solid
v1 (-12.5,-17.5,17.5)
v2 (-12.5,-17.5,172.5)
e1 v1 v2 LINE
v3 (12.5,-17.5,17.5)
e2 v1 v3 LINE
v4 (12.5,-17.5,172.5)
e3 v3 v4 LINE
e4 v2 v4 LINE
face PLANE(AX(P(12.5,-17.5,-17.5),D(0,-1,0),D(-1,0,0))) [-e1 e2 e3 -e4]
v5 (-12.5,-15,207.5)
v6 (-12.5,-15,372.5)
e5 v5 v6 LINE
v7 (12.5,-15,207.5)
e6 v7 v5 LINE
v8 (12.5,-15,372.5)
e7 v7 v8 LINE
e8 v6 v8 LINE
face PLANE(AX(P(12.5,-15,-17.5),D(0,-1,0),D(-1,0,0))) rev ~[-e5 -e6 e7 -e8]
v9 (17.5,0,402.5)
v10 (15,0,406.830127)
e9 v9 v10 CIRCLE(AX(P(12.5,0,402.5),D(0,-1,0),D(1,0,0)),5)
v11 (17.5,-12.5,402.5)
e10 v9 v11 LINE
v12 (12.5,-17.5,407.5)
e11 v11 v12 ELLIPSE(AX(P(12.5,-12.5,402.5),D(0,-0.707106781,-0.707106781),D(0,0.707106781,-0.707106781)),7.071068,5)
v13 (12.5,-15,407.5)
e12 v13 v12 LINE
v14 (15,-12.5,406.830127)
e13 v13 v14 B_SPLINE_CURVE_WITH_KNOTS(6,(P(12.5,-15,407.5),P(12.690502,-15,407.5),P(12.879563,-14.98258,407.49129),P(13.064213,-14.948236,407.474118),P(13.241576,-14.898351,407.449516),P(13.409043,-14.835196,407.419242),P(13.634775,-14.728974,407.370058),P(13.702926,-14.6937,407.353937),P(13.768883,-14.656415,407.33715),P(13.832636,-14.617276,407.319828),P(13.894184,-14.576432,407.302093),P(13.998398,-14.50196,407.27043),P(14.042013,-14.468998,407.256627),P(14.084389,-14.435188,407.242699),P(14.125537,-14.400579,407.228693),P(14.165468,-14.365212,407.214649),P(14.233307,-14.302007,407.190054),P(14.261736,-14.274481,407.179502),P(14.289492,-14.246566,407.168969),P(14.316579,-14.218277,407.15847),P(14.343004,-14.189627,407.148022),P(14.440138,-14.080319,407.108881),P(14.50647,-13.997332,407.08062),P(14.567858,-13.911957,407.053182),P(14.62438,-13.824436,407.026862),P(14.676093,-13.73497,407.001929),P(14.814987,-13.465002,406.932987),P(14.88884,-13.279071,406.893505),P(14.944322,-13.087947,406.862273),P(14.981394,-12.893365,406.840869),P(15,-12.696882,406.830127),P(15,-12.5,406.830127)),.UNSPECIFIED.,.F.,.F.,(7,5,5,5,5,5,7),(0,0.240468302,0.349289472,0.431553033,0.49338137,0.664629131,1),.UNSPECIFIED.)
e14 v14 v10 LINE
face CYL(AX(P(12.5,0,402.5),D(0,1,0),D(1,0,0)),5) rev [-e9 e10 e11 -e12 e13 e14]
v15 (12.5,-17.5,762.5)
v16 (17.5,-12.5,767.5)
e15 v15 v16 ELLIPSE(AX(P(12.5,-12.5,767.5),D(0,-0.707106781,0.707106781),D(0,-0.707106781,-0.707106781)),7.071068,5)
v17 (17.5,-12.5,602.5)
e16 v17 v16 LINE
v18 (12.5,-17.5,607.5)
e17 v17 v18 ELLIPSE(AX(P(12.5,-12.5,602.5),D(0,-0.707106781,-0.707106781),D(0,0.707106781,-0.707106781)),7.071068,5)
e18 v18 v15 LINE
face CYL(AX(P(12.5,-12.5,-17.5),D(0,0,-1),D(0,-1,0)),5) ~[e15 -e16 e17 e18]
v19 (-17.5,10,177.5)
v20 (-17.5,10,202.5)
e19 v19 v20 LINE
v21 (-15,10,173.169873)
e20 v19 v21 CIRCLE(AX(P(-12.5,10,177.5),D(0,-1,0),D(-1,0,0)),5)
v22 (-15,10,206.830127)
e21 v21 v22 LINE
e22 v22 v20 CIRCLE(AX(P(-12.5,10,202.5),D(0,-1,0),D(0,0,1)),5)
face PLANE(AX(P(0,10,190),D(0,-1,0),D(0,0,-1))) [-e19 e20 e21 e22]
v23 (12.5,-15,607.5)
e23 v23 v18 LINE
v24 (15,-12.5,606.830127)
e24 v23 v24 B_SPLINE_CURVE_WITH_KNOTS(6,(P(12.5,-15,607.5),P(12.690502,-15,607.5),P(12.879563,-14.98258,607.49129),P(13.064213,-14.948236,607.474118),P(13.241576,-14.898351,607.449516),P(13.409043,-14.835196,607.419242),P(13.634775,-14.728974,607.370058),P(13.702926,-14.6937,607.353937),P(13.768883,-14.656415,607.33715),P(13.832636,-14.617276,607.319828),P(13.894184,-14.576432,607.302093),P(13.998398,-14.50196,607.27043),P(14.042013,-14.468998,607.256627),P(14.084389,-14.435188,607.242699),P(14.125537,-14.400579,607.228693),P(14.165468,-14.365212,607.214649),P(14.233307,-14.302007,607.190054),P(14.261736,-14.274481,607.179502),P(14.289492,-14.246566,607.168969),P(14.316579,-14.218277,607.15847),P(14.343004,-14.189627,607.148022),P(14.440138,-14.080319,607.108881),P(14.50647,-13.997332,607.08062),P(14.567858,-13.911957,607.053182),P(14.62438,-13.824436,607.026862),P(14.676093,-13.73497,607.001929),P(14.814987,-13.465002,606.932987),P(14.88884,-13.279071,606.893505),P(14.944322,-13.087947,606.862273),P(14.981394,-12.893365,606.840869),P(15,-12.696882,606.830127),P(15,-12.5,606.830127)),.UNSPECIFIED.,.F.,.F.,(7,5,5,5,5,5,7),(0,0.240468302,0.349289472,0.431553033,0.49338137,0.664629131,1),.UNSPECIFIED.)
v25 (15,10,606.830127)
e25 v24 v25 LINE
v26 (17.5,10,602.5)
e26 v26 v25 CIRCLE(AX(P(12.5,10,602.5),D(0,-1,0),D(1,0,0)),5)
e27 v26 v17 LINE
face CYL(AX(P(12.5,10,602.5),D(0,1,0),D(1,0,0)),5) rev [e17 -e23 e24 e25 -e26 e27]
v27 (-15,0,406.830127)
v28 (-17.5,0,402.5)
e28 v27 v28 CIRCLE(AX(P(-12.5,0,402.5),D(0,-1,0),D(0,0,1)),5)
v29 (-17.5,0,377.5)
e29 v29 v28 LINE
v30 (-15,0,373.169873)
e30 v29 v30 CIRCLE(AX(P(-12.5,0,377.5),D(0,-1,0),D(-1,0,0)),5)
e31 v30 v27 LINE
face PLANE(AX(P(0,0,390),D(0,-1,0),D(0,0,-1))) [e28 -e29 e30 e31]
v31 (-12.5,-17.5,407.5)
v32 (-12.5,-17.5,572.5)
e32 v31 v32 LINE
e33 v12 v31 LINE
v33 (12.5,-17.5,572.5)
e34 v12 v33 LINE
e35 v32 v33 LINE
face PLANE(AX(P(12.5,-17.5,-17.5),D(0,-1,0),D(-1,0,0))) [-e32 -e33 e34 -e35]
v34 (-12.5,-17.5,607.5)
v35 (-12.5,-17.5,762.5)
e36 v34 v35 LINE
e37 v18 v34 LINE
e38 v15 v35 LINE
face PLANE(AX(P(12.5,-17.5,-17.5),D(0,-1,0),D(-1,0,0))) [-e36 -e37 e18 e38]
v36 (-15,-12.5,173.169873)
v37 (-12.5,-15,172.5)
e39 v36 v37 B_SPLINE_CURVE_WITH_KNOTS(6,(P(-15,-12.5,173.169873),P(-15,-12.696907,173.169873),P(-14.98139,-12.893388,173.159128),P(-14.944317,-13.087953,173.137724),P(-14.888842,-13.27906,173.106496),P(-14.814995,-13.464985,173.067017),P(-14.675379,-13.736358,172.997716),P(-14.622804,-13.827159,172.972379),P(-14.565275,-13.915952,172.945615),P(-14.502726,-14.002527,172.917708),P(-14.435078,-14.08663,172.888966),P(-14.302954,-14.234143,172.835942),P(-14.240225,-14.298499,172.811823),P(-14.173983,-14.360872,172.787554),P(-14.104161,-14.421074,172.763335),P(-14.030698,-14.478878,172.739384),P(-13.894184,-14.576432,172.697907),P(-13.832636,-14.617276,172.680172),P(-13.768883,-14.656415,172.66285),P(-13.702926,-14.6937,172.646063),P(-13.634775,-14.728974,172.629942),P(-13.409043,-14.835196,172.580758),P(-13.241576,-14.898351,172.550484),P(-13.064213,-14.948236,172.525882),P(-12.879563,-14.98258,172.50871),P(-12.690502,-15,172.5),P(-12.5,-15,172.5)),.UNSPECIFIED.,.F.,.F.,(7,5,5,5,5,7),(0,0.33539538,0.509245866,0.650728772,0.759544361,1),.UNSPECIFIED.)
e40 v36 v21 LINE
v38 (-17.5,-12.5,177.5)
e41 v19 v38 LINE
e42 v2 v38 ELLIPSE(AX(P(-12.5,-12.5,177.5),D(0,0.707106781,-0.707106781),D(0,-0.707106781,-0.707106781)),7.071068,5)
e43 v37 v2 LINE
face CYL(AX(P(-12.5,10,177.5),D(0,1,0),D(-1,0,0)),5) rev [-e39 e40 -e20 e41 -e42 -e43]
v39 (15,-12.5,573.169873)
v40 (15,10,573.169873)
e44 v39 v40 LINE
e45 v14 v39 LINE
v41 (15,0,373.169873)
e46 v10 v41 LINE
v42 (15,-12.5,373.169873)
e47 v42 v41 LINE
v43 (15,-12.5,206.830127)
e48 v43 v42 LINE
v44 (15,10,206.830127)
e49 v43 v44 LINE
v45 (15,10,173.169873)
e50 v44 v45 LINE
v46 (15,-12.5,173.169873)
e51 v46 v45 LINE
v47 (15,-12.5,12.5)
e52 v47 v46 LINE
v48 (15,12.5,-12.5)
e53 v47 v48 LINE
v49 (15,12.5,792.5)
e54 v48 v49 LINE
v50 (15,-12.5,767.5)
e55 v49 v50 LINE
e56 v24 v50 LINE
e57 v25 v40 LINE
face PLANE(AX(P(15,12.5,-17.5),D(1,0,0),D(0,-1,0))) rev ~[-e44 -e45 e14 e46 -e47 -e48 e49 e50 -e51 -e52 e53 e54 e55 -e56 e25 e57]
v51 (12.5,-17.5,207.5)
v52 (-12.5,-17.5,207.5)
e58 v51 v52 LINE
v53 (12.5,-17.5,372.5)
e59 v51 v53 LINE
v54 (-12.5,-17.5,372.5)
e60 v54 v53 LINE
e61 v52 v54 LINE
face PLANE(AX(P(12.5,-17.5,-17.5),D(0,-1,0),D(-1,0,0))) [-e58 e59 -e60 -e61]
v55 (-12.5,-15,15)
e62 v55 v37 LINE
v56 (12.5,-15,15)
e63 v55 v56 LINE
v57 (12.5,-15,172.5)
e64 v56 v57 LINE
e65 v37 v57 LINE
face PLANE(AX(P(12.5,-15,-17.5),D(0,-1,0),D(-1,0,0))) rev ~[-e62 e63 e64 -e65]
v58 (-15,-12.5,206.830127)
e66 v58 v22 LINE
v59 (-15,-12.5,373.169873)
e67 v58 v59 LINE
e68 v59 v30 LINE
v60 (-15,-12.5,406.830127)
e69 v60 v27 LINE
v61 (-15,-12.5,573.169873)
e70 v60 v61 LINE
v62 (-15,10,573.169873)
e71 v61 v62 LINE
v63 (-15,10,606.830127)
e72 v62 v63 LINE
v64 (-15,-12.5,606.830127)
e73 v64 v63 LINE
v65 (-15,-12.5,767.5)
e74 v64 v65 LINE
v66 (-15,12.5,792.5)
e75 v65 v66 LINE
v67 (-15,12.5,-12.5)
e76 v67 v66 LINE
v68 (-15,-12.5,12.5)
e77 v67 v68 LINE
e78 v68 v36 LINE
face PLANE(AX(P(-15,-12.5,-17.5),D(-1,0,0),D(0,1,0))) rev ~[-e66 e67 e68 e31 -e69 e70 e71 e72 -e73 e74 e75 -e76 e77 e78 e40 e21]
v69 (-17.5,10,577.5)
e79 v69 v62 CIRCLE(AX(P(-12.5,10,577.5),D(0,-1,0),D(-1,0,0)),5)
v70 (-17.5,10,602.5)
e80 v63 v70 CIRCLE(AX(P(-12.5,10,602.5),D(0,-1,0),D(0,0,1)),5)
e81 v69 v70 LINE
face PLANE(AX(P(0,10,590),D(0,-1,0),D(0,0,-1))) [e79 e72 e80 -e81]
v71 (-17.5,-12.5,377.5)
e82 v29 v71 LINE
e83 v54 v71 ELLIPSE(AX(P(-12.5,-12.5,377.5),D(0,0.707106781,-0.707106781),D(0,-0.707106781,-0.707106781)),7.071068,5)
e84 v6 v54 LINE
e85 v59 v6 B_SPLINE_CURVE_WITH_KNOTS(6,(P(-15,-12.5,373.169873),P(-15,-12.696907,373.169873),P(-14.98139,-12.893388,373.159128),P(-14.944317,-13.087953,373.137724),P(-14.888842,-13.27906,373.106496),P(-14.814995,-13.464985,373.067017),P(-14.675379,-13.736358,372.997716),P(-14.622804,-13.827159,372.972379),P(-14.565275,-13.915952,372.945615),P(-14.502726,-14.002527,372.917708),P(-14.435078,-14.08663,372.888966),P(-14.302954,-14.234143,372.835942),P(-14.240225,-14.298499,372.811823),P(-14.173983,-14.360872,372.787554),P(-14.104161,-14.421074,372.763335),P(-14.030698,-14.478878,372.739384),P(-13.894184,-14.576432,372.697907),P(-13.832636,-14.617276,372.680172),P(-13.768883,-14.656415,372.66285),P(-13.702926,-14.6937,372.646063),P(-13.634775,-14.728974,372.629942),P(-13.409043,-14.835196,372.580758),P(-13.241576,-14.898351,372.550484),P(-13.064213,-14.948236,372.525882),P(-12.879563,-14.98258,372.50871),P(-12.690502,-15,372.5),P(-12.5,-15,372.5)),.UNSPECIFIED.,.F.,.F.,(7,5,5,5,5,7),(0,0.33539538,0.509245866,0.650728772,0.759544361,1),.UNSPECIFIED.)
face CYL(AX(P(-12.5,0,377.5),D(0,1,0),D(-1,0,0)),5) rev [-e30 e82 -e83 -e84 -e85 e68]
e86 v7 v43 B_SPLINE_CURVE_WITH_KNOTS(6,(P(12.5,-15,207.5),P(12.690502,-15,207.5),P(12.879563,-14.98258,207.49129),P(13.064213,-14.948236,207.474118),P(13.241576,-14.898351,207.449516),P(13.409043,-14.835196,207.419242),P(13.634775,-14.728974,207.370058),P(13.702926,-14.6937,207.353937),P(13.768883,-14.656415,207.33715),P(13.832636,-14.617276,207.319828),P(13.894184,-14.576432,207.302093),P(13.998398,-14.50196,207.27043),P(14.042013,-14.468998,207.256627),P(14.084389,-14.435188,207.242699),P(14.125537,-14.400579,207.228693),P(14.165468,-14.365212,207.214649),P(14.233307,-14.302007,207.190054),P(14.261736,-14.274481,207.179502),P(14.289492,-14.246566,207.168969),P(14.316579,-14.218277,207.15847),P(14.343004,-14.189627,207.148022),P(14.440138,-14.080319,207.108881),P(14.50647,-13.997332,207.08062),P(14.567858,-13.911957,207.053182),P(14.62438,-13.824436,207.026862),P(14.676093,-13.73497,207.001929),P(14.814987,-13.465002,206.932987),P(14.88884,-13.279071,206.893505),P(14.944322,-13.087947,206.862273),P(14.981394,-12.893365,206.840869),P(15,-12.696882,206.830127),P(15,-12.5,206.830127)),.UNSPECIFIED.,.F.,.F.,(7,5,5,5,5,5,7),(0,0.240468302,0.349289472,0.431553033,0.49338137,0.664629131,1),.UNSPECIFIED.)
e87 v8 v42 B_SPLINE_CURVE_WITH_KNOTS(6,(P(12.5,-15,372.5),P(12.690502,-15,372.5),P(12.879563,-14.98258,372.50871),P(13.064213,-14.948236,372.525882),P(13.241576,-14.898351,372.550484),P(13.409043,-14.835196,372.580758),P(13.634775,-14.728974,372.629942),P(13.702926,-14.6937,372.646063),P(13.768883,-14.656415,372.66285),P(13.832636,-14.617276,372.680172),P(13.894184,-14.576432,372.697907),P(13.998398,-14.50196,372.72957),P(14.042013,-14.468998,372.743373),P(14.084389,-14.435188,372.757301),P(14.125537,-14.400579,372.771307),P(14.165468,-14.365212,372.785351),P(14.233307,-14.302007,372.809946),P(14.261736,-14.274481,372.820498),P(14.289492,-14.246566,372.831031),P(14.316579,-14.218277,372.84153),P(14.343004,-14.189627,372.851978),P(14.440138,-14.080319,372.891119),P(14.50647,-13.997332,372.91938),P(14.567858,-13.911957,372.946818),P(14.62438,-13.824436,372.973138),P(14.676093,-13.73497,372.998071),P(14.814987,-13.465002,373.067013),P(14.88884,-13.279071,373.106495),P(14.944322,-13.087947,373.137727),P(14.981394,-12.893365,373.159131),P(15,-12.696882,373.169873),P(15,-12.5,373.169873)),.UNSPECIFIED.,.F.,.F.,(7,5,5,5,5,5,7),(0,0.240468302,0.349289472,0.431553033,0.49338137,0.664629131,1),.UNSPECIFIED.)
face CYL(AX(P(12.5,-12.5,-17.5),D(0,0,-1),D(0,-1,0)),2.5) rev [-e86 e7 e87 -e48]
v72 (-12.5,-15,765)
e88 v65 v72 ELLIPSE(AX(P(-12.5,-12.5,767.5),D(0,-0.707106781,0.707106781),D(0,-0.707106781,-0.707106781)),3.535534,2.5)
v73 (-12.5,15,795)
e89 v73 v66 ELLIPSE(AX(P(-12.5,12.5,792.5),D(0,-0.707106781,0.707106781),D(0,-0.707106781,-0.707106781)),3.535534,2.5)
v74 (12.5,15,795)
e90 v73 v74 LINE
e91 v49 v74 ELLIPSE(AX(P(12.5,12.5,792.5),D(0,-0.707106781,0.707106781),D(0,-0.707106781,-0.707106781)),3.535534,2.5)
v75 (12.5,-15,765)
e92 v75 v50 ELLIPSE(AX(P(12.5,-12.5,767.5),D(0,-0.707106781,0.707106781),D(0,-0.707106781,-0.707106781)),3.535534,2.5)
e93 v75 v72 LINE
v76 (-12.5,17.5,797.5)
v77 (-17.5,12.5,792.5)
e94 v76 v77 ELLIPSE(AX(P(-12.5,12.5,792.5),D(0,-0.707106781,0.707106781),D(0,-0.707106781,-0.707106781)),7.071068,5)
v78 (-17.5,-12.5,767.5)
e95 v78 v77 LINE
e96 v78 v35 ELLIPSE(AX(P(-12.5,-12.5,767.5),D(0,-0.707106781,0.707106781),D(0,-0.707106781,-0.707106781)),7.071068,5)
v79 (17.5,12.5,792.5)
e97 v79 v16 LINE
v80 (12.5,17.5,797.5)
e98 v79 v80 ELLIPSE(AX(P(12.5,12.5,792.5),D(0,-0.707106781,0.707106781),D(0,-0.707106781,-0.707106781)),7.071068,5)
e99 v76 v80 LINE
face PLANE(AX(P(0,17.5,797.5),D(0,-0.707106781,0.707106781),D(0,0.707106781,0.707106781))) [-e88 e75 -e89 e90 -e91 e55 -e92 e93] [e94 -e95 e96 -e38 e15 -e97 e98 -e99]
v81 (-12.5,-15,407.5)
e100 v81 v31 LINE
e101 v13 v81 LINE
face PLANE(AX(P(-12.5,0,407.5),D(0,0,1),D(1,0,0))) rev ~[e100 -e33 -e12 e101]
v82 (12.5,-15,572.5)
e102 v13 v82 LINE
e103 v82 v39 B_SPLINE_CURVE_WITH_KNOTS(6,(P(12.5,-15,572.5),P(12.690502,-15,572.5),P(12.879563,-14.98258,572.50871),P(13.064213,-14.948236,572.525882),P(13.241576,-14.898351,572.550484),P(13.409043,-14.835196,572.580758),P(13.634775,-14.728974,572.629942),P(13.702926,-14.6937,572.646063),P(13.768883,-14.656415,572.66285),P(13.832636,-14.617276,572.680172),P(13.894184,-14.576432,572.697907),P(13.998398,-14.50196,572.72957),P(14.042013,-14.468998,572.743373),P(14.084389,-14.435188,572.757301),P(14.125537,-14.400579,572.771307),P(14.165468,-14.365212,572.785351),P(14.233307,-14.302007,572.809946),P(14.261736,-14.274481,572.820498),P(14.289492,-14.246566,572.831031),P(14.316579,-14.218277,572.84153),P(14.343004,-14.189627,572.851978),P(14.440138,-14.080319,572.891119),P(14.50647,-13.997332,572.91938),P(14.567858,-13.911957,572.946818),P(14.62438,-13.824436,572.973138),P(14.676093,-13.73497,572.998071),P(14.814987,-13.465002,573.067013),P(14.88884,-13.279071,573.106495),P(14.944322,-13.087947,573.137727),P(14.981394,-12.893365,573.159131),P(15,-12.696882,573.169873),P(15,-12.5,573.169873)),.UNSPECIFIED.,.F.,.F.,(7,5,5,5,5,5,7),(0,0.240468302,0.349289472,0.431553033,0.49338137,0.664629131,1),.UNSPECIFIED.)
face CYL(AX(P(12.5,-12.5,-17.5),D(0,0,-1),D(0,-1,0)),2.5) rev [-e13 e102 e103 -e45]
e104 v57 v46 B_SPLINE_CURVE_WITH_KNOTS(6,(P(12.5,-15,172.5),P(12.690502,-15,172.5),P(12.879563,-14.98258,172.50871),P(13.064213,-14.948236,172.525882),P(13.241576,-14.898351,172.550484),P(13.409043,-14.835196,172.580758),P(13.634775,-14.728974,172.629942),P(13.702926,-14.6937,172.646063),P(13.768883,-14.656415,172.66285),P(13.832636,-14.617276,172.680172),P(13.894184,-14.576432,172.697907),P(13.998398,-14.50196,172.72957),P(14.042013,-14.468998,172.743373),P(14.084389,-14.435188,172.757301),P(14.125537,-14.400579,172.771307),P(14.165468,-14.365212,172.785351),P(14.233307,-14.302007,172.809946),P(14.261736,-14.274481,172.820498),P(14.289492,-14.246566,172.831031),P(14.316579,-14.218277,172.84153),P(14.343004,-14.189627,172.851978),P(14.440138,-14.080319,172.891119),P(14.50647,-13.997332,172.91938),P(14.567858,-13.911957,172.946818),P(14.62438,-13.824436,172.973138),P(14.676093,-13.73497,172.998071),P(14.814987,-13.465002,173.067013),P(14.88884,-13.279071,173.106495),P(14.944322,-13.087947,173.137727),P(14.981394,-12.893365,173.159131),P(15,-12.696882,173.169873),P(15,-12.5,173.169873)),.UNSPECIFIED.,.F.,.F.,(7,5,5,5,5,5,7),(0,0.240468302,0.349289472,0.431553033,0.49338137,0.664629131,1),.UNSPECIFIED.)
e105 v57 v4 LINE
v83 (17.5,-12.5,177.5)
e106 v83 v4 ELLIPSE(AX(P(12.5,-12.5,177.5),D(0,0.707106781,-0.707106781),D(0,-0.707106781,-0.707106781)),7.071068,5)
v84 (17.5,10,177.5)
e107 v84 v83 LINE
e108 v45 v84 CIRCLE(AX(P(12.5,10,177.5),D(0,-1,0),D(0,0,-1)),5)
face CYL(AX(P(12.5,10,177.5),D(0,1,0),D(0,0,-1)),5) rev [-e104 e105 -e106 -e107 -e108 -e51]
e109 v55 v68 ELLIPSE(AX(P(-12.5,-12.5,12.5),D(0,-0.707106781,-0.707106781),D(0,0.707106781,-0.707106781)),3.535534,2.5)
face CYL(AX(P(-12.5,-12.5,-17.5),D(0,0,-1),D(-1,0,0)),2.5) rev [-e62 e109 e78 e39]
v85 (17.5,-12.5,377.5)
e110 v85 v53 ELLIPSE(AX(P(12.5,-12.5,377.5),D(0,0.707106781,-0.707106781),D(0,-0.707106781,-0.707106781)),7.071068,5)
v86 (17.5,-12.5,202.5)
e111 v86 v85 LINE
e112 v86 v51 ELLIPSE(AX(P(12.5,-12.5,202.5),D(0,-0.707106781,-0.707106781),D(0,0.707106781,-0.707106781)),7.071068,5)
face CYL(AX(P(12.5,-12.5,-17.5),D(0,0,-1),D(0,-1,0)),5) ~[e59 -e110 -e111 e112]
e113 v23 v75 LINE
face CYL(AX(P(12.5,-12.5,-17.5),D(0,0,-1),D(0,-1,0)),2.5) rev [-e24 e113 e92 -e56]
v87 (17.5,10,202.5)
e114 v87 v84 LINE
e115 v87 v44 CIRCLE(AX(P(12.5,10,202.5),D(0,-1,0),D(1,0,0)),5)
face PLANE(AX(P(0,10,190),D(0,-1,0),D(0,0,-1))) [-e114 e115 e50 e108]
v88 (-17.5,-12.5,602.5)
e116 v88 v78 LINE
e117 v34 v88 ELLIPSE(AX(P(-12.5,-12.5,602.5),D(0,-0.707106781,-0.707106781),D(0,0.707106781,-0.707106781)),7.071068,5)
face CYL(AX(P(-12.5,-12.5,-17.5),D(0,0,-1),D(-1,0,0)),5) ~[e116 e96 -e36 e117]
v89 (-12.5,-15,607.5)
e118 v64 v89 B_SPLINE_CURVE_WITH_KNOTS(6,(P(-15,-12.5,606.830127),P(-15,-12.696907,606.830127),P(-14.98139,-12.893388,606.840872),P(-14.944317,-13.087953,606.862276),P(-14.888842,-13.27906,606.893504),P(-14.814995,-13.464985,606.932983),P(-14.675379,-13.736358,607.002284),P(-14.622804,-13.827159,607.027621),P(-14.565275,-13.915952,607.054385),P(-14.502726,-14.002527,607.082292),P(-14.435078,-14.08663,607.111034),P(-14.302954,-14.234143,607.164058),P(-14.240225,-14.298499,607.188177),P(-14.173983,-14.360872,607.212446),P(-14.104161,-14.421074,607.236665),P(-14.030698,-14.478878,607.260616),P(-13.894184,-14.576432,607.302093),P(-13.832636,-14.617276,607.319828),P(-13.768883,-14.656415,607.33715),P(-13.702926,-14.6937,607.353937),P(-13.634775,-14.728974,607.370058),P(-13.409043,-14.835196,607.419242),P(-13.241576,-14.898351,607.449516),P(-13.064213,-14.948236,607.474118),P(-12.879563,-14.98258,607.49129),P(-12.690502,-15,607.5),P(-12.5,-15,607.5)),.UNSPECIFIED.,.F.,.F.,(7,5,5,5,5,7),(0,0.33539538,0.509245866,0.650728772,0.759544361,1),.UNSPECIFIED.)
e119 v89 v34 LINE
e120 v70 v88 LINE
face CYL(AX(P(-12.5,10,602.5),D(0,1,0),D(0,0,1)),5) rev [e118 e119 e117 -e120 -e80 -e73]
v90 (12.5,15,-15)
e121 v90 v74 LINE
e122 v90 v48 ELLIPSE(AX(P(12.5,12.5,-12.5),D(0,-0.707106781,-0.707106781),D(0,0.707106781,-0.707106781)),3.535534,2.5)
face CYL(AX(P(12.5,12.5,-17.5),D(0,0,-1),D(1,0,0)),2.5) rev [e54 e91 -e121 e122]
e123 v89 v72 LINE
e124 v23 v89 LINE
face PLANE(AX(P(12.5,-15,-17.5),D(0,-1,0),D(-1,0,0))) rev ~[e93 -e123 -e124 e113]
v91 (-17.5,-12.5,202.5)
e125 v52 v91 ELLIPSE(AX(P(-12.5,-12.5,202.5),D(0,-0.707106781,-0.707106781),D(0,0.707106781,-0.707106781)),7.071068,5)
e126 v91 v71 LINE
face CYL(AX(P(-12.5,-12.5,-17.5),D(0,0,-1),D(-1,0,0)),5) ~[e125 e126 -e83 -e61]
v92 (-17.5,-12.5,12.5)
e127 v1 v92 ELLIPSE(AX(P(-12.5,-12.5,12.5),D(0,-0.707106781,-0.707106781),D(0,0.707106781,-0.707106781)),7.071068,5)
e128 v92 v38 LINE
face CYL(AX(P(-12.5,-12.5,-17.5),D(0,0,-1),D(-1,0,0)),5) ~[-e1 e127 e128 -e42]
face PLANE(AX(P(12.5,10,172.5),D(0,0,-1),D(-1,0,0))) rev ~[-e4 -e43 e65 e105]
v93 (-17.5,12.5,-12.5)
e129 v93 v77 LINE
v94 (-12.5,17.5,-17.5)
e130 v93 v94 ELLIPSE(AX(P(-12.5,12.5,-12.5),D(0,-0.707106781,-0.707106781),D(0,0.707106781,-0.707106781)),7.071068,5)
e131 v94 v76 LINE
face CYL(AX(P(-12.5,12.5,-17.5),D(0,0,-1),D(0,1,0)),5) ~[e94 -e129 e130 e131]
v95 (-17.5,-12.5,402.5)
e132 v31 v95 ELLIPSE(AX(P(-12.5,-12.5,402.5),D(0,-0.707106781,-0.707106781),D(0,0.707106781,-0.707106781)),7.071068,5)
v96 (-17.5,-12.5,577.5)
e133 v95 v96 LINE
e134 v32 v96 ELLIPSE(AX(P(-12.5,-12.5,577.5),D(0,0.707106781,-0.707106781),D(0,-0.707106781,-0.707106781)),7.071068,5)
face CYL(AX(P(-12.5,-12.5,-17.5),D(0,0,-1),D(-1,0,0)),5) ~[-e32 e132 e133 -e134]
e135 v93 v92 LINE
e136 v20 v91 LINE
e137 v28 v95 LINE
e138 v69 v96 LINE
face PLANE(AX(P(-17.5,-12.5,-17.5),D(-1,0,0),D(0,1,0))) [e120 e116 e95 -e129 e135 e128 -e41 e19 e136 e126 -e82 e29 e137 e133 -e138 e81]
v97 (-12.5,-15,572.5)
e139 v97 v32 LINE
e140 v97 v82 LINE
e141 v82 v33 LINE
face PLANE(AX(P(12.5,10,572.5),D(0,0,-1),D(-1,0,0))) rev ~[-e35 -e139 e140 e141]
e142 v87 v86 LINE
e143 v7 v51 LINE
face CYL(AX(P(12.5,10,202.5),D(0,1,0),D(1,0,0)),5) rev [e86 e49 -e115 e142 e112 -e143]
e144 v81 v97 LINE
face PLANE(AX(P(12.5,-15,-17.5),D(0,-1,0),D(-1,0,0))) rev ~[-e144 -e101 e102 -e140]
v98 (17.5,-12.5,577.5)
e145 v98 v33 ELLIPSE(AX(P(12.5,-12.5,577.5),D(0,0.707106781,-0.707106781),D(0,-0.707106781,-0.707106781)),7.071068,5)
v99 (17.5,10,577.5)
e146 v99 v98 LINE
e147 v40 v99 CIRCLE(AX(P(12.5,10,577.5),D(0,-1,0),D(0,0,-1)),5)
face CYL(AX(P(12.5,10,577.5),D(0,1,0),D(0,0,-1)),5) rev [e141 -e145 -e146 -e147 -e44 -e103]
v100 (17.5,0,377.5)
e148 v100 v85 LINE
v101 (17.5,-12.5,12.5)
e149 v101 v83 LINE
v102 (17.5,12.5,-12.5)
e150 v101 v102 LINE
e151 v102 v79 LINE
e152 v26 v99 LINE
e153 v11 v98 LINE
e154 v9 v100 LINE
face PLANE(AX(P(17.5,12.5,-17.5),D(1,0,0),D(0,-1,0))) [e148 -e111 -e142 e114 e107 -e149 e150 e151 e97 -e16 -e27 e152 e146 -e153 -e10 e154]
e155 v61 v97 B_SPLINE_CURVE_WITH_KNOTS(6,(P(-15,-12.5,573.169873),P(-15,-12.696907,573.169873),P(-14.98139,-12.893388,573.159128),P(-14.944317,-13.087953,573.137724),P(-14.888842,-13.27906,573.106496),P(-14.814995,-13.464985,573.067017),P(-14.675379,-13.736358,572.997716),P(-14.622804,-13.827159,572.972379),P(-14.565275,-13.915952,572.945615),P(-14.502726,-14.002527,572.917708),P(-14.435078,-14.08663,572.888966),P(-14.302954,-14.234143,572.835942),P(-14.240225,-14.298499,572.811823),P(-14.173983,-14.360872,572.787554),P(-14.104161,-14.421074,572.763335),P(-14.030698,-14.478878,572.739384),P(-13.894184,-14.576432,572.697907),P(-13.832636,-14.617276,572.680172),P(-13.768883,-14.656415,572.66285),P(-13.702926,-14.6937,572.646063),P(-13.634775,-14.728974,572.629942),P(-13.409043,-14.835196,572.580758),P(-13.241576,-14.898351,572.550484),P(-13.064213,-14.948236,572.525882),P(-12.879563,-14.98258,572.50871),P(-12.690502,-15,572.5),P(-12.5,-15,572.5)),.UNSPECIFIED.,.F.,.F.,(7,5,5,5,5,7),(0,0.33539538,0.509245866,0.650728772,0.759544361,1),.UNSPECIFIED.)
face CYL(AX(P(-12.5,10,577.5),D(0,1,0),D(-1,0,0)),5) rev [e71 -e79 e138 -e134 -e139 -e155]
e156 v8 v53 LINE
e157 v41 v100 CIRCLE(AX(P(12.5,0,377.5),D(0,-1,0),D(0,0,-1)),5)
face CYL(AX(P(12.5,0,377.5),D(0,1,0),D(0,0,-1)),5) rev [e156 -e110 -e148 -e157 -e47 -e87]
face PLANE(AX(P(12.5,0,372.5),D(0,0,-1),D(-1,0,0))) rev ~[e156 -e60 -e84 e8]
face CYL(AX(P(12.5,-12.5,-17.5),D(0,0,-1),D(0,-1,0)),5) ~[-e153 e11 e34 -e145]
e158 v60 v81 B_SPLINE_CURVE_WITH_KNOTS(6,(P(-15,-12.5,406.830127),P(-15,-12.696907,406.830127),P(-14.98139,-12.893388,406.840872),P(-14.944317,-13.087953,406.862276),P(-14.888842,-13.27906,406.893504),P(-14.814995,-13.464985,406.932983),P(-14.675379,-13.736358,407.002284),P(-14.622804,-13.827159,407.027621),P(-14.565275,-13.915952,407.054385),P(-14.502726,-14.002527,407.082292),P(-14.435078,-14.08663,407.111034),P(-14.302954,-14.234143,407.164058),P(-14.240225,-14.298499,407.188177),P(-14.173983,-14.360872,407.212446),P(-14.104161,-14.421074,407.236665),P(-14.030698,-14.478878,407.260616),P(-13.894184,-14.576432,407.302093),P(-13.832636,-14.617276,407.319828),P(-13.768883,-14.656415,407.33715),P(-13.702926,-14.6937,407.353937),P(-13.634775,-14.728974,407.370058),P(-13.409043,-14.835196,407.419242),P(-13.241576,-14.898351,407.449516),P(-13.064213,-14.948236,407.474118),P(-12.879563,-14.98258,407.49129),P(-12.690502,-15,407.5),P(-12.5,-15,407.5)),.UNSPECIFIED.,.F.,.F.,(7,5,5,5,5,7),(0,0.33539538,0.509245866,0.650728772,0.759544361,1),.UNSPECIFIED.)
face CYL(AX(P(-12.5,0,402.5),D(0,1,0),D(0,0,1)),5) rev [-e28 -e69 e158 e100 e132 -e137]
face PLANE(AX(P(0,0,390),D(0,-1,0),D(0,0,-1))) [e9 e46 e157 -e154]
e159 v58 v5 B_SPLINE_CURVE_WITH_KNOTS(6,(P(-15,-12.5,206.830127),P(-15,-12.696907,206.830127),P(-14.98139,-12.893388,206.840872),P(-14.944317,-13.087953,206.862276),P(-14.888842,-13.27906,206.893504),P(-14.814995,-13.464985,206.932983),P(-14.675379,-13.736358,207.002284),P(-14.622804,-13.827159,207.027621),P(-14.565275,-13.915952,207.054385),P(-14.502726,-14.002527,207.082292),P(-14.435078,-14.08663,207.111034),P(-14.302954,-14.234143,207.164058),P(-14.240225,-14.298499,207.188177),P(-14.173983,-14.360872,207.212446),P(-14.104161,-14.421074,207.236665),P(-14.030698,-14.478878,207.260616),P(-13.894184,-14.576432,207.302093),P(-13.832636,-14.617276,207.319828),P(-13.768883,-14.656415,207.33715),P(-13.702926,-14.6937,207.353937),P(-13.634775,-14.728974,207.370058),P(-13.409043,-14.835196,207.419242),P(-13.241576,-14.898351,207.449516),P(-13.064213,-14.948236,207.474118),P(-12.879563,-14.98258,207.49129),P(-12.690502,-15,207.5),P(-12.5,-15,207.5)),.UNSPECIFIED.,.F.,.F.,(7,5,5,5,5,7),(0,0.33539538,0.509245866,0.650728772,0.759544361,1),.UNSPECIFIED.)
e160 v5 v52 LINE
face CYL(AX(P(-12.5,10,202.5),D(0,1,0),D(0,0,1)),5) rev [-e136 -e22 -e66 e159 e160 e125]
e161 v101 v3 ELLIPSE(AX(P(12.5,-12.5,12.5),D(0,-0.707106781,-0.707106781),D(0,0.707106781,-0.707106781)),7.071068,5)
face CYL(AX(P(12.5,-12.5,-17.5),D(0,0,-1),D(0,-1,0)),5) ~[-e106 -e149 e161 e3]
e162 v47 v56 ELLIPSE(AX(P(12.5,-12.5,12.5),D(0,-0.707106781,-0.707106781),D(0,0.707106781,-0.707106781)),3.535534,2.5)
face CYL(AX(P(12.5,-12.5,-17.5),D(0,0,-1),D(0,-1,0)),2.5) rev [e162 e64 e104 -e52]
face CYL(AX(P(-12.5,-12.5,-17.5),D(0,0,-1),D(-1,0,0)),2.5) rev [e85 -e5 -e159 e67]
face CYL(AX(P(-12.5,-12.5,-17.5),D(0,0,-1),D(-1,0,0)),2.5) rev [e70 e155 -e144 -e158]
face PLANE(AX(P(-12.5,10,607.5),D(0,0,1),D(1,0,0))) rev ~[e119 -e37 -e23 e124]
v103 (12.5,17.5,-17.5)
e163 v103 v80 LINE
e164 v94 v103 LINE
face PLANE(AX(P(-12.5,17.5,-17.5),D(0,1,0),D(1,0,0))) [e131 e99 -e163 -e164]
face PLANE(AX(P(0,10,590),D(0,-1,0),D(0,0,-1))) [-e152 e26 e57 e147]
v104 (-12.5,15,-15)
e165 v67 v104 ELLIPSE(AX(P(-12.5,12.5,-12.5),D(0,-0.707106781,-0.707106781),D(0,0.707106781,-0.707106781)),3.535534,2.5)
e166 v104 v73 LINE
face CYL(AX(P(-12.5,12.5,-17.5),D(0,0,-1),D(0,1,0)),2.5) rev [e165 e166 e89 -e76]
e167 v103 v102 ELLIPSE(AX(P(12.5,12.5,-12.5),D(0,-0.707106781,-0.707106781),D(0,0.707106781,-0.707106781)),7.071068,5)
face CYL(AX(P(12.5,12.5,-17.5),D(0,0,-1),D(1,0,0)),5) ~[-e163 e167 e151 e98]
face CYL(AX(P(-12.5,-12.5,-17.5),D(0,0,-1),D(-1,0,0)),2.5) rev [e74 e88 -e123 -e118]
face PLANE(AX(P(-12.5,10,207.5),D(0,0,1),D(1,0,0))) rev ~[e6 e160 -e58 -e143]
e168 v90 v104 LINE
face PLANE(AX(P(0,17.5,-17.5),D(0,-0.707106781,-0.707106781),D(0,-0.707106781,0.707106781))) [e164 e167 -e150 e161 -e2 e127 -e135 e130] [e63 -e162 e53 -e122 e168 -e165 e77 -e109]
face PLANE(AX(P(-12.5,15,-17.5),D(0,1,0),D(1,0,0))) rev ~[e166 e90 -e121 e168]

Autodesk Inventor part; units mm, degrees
ref_plane "Start plane" through (0, 0, -17.5) normal (0, 0, 1) x (1, 0, 0)
ref_plane "End plane" through (0, 0, 797.5) normal (0, 0, 1) x (1, 0, 0)
sketch "Sketch" plane through (0, 0, 0) normal (0, 0, 1) x (1, 0, 0)
  line L0 (-17.5, -12.5) -> (-17.5, 12.5)
  line L1 (-12.5, 17.5) -> (12.5, 17.5)
  line L2 (17.5, 12.5) -> (17.5, -12.5)
  line L3 (12.5, -17.5) -> (-12.5, -17.5)
  arc A0 (-17.5, -12.5) -> (-12.5, -17.5) centre (-12.5, -12.5) ccw
  arc A1 (-12.5, 17.5) -> (-17.5, 12.5) centre (-12.5, 12.5) ccw
  arc A2 (17.5, 12.5) -> (12.5, 17.5) centre (12.5, 12.5) ccw
  arc A3 (12.5, -17.5) -> (17.5, -12.5) centre (12.5, -12.5) ccw
  arc A4 (-12.5, 15) -> (-15, 12.5) centre (-12.5, 12.5) ccw
  line L4 (-12.5, 15) -> (12.5, 15)
  arc A5 (15, 12.5) -> (12.5, 15) centre (12.5, 12.5) ccw
  line L5 (15, 12.5) -> (15, -12.5)
  arc A6 (12.5, -15) -> (15, -12.5) centre (12.5, -12.5) ccw
  line L6 (12.5, -15) -> (-12.5, -15)
  arc A7 (-15, -12.5) -> (-12.5, -15) centre (-12.5, -12.5) ccw
  line L7 (-15, -12.5) -> (-15, 12.5)
  line L8 (0, 25.9497) -> (0, -25.9497) construction
  line L9 (-25.9497, 0) -> (25.9497, 0) construction
  dimension "d7" = 5
  dimension "d10" = 35
  dimension "d11" = 35
  dimension "d12" = 2.5
  dimension "d15" = 17.5
  dimension "d16" = 17.5
extrude "Body" add sketch "Sketch" along normal up to surface (815 mm away) from surface at -17.5
sketch "Sketch3" plane through (0, 0, 0) normal (0, 0, 1) x (1, 0, 0)
  line L0 (0, 0) -> (10, 0)
ref_plane "Work Plane3" through (0, 0, 0) normal (0, -1, 0) x (1, 0, 0)
sketch "Sketch4" plane through (0, 0, 0) normal (0, -1, 0) x (1, 0, 0)
  line L0 (-2, -17.5) -> (12, -17.5)
  line L1 (-2, 797.5) -> (12, 797.5)
  dimension "d18" = 815
ref_plane "Work Plane4" through (107.5, 0, -17.5) normal (0, 0, -1) x (-1, 0, 0)
split "Split1" plane through (107.5, 0, -17.5) removes the side toward (0, 0, -1)
ref_plane "Work Plane5" through (17.5, 0, 797.5) normal (0, 0, 1) x (1, 0, 0)
split "Split2" plane through (17.5, 0, 797.5) removes the side toward (0, 0, 1)
ref_plane "Work Plane6" through (0, 17.5, -17.5) normal (0, -0.7071, -0.7071) x (1, 0, 0)
split "Split3" plane through (0, 17.5, -17.5) removes the side toward (0, -0.7071, -0.7071)
ref_plane "Work Plane14" through (0, 17.5, 797.5) normal (0, -0.7071, 0.7071) x (1, 0, 0)
split "Split5" plane through (0, 17.5, 797.5) removes the side toward (0, -0.7071, 0.7071)
ref_plane "Work Plane17" through (0, 10, 190) normal (0, -1, 0) x (0, 0, -1)
ref_plane "Work Plane18" through (0, -490, 190) normal (0, -1, 0) x (0, 0, -1)
ref_plane "Work Plane19" through (0, -240, 190) normal (0, -1, 0) x (0, 0, -1)
ref_plane "Work Plane20" through (0, 0, 390) normal (0, -1, 0) x (0, 0, -1)
ref_plane "Work Plane21" through (0, -480, 390) normal (0, -1, 0) x (0, 0, -1)
ref_plane "Work Plane22" through (0, -240, 390) normal (0, -1, 0) x (0, 0, -1)
ref_plane "Work Plane23" through (0, 10, 590) normal (0, -1, 0) x (0, 0, -1)
ref_plane "Work Plane24" through (0, -490, 590) normal (0, -1, 0) x (0, 0, -1)
ref_plane "Work Plane25" through (0, -240, 590) normal (0, -1, 0) x (0, 0, -1)
sketch "Sketch17" plane through (0, -240, 190) normal (0, -1, 0) x (0, 0, -1)
  arc A0 (-17.5, -12.5) -> (-12.5, -17.5) centre (-12.5, -12.5) ccw
  line L0 (-17.5, -12.5) -> (-17.5, 12.5)
  arc A1 (-12.5, 17.5) -> (-17.5, 12.5) centre (-12.5, 12.5) ccw
  line L1 (-12.5, 17.5) -> (12.5, 17.5)
  arc A2 (17.5, 12.5) -> (12.5, 17.5) centre (12.5, 12.5) ccw
  line L2 (17.5, 12.5) -> (17.5, -12.5)
  arc A3 (12.5, -17.5) -> (17.5, -12.5) centre (12.5, -12.5) ccw
  line L3 (12.5, -17.5) -> (-12.5, -17.5)
  arc A4 (-12.5, 15) -> (-15, 12.5) centre (-12.5, 12.5) ccw
  line L4 (-12.5, 15) -> (12.5, 15)
  arc A5 (15, 12.5) -> (12.5, 15) centre (12.5, 12.5) ccw
  line L5 (15, 12.5) -> (15, -12.5)
  arc A6 (12.5, -15) -> (15, -12.5) centre (12.5, -12.5) ccw
  line L6 (12.5, -15) -> (-12.5, -15)
  arc A7 (-15, -12.5) -> (-12.5, -15) centre (-12.5, -12.5) ccw
  line L7 (-15, -12.5) -> (-15, 12.5)
extrude "Extrusion14" cut sketch "Sketch17" along normal up to surface (500 mm away) from surface at -250 contours L0 A1 L1 A2 L2 A3 L3 A0 | L4 A5 L5 A6 L6 A7 L7 A4
sketch "Sketch18" plane through (0, -240, 390) normal (0, -1, 0) x (0, 0, -1)
  arc A0 (-17.5, -12.5) -> (-12.5, -17.5) centre (-12.5, -12.5) ccw
  line L0 (-17.5, -12.5) -> (-17.5, 12.5)
  arc A1 (-12.5, 17.5) -> (-17.5, 12.5) centre (-12.5, 12.5) ccw
  line L1 (-12.5, 17.5) -> (12.5, 17.5)
  arc A2 (17.5, 12.5) -> (12.5, 17.5) centre (12.5, 12.5) ccw
  line L2 (17.5, 12.5) -> (17.5, -12.5)
  arc A3 (12.5, -17.5) -> (17.5, -12.5) centre (12.5, -12.5) ccw
  line L3 (12.5, -17.5) -> (-12.5, -17.5)
  arc A4 (-12.5, 15) -> (-15, 12.5) centre (-12.5, 12.5) ccw
  line L4 (-12.5, 15) -> (12.5, 15)
  arc A5 (15, 12.5) -> (12.5, 15) centre (12.5, 12.5) ccw
  line L5 (15, 12.5) -> (15, -12.5)
  arc A6 (12.5, -15) -> (15, -12.5) centre (12.5, -12.5) ccw
  line L6 (12.5, -15) -> (-12.5, -15)
  arc A7 (-15, -12.5) -> (-12.5, -15) centre (-12.5, -12.5) ccw
  line L7 (-15, -12.5) -> (-15, 12.5)
extrude "Extrusion15" cut sketch "Sketch18" along normal up to surface (480 mm away) from surface at -240 contours L0 A1 L1 A2 L2 A3 L3 A0 | L4 A5 L5 A6 L6 A7 L7 A4
sketch "Sketch19" plane through (0, -240, 590) normal (0, -1, 0) x (0, 0, -1)
  arc A0 (-17.5, -12.5) -> (-12.5, -17.5) centre (-12.5, -12.5) ccw
  line L0 (-17.5, -12.5) -> (-17.5, 12.5)
  arc A1 (-12.5, 17.5) -> (-17.5, 12.5) centre (-12.5, 12.5) ccw
  line L1 (-12.5, 17.5) -> (12.5, 17.5)
  arc A2 (17.5, 12.5) -> (12.5, 17.5) centre (12.5, 12.5) ccw
  line L2 (17.5, 12.5) -> (17.5, -12.5)
  arc A3 (12.5, -17.5) -> (17.5, -12.5) centre (12.5, -12.5) ccw
  line L3 (12.5, -17.5) -> (-12.5, -17.5)
  arc A4 (-12.5, 15) -> (-15, 12.5) centre (-12.5, 12.5) ccw
  line L4 (-12.5, 15) -> (12.5, 15)
  arc A5 (15, 12.5) -> (12.5, 15) centre (12.5, 12.5) ccw
  line L5 (15, 12.5) -> (15, -12.5)
  arc A6 (12.5, -15) -> (15, -12.5) centre (12.5, -12.5) ccw
  line L6 (12.5, -15) -> (-12.5, -15)
  arc A7 (-15, -12.5) -> (-12.5, -15) centre (-12.5, -12.5) ccw
  line L7 (-15, -12.5) -> (-15, 12.5)
extrude "Extrusion16" cut sketch "Sketch19" along normal up to surface (500 mm away) from surface at -250 contours L0 A1 L1 A2 L2 A3 L3 A0 | L4 A5 L5 A6 L6 A7 L7 A4
equation "\"d7\" = G_IR"
equation "\"d10\" = G_H"
equation "\"d11\" = G_W"
equation "\"d12\" = G_T"
equation "\"d15\" = 0.5 * d10"
equation "\"d16\" = 0.5 * d11"
equation "\"d3\" = G_L"
equation "\"G_W\" = 35"
equation "\"G_H\" = 35"
equation "\"G_T\" = 2.5"
equation "\"G_IR\" = 5"
equation "\"G_L\" = 835"
equation "\"G_OFFSET_START\" = 17.5"
equation "\"G_OFFSET_END\" = 17.5"
equation "\"d13\" = -G_OFFSET_START"
equation "\"d14\" = G_OFFSET_END + B_L"
equation "\"B_L\" = 780"
properties part number "AS 1163 - C350L0 35x35x2.5 SHS - 835" material "Steel, Mild"
